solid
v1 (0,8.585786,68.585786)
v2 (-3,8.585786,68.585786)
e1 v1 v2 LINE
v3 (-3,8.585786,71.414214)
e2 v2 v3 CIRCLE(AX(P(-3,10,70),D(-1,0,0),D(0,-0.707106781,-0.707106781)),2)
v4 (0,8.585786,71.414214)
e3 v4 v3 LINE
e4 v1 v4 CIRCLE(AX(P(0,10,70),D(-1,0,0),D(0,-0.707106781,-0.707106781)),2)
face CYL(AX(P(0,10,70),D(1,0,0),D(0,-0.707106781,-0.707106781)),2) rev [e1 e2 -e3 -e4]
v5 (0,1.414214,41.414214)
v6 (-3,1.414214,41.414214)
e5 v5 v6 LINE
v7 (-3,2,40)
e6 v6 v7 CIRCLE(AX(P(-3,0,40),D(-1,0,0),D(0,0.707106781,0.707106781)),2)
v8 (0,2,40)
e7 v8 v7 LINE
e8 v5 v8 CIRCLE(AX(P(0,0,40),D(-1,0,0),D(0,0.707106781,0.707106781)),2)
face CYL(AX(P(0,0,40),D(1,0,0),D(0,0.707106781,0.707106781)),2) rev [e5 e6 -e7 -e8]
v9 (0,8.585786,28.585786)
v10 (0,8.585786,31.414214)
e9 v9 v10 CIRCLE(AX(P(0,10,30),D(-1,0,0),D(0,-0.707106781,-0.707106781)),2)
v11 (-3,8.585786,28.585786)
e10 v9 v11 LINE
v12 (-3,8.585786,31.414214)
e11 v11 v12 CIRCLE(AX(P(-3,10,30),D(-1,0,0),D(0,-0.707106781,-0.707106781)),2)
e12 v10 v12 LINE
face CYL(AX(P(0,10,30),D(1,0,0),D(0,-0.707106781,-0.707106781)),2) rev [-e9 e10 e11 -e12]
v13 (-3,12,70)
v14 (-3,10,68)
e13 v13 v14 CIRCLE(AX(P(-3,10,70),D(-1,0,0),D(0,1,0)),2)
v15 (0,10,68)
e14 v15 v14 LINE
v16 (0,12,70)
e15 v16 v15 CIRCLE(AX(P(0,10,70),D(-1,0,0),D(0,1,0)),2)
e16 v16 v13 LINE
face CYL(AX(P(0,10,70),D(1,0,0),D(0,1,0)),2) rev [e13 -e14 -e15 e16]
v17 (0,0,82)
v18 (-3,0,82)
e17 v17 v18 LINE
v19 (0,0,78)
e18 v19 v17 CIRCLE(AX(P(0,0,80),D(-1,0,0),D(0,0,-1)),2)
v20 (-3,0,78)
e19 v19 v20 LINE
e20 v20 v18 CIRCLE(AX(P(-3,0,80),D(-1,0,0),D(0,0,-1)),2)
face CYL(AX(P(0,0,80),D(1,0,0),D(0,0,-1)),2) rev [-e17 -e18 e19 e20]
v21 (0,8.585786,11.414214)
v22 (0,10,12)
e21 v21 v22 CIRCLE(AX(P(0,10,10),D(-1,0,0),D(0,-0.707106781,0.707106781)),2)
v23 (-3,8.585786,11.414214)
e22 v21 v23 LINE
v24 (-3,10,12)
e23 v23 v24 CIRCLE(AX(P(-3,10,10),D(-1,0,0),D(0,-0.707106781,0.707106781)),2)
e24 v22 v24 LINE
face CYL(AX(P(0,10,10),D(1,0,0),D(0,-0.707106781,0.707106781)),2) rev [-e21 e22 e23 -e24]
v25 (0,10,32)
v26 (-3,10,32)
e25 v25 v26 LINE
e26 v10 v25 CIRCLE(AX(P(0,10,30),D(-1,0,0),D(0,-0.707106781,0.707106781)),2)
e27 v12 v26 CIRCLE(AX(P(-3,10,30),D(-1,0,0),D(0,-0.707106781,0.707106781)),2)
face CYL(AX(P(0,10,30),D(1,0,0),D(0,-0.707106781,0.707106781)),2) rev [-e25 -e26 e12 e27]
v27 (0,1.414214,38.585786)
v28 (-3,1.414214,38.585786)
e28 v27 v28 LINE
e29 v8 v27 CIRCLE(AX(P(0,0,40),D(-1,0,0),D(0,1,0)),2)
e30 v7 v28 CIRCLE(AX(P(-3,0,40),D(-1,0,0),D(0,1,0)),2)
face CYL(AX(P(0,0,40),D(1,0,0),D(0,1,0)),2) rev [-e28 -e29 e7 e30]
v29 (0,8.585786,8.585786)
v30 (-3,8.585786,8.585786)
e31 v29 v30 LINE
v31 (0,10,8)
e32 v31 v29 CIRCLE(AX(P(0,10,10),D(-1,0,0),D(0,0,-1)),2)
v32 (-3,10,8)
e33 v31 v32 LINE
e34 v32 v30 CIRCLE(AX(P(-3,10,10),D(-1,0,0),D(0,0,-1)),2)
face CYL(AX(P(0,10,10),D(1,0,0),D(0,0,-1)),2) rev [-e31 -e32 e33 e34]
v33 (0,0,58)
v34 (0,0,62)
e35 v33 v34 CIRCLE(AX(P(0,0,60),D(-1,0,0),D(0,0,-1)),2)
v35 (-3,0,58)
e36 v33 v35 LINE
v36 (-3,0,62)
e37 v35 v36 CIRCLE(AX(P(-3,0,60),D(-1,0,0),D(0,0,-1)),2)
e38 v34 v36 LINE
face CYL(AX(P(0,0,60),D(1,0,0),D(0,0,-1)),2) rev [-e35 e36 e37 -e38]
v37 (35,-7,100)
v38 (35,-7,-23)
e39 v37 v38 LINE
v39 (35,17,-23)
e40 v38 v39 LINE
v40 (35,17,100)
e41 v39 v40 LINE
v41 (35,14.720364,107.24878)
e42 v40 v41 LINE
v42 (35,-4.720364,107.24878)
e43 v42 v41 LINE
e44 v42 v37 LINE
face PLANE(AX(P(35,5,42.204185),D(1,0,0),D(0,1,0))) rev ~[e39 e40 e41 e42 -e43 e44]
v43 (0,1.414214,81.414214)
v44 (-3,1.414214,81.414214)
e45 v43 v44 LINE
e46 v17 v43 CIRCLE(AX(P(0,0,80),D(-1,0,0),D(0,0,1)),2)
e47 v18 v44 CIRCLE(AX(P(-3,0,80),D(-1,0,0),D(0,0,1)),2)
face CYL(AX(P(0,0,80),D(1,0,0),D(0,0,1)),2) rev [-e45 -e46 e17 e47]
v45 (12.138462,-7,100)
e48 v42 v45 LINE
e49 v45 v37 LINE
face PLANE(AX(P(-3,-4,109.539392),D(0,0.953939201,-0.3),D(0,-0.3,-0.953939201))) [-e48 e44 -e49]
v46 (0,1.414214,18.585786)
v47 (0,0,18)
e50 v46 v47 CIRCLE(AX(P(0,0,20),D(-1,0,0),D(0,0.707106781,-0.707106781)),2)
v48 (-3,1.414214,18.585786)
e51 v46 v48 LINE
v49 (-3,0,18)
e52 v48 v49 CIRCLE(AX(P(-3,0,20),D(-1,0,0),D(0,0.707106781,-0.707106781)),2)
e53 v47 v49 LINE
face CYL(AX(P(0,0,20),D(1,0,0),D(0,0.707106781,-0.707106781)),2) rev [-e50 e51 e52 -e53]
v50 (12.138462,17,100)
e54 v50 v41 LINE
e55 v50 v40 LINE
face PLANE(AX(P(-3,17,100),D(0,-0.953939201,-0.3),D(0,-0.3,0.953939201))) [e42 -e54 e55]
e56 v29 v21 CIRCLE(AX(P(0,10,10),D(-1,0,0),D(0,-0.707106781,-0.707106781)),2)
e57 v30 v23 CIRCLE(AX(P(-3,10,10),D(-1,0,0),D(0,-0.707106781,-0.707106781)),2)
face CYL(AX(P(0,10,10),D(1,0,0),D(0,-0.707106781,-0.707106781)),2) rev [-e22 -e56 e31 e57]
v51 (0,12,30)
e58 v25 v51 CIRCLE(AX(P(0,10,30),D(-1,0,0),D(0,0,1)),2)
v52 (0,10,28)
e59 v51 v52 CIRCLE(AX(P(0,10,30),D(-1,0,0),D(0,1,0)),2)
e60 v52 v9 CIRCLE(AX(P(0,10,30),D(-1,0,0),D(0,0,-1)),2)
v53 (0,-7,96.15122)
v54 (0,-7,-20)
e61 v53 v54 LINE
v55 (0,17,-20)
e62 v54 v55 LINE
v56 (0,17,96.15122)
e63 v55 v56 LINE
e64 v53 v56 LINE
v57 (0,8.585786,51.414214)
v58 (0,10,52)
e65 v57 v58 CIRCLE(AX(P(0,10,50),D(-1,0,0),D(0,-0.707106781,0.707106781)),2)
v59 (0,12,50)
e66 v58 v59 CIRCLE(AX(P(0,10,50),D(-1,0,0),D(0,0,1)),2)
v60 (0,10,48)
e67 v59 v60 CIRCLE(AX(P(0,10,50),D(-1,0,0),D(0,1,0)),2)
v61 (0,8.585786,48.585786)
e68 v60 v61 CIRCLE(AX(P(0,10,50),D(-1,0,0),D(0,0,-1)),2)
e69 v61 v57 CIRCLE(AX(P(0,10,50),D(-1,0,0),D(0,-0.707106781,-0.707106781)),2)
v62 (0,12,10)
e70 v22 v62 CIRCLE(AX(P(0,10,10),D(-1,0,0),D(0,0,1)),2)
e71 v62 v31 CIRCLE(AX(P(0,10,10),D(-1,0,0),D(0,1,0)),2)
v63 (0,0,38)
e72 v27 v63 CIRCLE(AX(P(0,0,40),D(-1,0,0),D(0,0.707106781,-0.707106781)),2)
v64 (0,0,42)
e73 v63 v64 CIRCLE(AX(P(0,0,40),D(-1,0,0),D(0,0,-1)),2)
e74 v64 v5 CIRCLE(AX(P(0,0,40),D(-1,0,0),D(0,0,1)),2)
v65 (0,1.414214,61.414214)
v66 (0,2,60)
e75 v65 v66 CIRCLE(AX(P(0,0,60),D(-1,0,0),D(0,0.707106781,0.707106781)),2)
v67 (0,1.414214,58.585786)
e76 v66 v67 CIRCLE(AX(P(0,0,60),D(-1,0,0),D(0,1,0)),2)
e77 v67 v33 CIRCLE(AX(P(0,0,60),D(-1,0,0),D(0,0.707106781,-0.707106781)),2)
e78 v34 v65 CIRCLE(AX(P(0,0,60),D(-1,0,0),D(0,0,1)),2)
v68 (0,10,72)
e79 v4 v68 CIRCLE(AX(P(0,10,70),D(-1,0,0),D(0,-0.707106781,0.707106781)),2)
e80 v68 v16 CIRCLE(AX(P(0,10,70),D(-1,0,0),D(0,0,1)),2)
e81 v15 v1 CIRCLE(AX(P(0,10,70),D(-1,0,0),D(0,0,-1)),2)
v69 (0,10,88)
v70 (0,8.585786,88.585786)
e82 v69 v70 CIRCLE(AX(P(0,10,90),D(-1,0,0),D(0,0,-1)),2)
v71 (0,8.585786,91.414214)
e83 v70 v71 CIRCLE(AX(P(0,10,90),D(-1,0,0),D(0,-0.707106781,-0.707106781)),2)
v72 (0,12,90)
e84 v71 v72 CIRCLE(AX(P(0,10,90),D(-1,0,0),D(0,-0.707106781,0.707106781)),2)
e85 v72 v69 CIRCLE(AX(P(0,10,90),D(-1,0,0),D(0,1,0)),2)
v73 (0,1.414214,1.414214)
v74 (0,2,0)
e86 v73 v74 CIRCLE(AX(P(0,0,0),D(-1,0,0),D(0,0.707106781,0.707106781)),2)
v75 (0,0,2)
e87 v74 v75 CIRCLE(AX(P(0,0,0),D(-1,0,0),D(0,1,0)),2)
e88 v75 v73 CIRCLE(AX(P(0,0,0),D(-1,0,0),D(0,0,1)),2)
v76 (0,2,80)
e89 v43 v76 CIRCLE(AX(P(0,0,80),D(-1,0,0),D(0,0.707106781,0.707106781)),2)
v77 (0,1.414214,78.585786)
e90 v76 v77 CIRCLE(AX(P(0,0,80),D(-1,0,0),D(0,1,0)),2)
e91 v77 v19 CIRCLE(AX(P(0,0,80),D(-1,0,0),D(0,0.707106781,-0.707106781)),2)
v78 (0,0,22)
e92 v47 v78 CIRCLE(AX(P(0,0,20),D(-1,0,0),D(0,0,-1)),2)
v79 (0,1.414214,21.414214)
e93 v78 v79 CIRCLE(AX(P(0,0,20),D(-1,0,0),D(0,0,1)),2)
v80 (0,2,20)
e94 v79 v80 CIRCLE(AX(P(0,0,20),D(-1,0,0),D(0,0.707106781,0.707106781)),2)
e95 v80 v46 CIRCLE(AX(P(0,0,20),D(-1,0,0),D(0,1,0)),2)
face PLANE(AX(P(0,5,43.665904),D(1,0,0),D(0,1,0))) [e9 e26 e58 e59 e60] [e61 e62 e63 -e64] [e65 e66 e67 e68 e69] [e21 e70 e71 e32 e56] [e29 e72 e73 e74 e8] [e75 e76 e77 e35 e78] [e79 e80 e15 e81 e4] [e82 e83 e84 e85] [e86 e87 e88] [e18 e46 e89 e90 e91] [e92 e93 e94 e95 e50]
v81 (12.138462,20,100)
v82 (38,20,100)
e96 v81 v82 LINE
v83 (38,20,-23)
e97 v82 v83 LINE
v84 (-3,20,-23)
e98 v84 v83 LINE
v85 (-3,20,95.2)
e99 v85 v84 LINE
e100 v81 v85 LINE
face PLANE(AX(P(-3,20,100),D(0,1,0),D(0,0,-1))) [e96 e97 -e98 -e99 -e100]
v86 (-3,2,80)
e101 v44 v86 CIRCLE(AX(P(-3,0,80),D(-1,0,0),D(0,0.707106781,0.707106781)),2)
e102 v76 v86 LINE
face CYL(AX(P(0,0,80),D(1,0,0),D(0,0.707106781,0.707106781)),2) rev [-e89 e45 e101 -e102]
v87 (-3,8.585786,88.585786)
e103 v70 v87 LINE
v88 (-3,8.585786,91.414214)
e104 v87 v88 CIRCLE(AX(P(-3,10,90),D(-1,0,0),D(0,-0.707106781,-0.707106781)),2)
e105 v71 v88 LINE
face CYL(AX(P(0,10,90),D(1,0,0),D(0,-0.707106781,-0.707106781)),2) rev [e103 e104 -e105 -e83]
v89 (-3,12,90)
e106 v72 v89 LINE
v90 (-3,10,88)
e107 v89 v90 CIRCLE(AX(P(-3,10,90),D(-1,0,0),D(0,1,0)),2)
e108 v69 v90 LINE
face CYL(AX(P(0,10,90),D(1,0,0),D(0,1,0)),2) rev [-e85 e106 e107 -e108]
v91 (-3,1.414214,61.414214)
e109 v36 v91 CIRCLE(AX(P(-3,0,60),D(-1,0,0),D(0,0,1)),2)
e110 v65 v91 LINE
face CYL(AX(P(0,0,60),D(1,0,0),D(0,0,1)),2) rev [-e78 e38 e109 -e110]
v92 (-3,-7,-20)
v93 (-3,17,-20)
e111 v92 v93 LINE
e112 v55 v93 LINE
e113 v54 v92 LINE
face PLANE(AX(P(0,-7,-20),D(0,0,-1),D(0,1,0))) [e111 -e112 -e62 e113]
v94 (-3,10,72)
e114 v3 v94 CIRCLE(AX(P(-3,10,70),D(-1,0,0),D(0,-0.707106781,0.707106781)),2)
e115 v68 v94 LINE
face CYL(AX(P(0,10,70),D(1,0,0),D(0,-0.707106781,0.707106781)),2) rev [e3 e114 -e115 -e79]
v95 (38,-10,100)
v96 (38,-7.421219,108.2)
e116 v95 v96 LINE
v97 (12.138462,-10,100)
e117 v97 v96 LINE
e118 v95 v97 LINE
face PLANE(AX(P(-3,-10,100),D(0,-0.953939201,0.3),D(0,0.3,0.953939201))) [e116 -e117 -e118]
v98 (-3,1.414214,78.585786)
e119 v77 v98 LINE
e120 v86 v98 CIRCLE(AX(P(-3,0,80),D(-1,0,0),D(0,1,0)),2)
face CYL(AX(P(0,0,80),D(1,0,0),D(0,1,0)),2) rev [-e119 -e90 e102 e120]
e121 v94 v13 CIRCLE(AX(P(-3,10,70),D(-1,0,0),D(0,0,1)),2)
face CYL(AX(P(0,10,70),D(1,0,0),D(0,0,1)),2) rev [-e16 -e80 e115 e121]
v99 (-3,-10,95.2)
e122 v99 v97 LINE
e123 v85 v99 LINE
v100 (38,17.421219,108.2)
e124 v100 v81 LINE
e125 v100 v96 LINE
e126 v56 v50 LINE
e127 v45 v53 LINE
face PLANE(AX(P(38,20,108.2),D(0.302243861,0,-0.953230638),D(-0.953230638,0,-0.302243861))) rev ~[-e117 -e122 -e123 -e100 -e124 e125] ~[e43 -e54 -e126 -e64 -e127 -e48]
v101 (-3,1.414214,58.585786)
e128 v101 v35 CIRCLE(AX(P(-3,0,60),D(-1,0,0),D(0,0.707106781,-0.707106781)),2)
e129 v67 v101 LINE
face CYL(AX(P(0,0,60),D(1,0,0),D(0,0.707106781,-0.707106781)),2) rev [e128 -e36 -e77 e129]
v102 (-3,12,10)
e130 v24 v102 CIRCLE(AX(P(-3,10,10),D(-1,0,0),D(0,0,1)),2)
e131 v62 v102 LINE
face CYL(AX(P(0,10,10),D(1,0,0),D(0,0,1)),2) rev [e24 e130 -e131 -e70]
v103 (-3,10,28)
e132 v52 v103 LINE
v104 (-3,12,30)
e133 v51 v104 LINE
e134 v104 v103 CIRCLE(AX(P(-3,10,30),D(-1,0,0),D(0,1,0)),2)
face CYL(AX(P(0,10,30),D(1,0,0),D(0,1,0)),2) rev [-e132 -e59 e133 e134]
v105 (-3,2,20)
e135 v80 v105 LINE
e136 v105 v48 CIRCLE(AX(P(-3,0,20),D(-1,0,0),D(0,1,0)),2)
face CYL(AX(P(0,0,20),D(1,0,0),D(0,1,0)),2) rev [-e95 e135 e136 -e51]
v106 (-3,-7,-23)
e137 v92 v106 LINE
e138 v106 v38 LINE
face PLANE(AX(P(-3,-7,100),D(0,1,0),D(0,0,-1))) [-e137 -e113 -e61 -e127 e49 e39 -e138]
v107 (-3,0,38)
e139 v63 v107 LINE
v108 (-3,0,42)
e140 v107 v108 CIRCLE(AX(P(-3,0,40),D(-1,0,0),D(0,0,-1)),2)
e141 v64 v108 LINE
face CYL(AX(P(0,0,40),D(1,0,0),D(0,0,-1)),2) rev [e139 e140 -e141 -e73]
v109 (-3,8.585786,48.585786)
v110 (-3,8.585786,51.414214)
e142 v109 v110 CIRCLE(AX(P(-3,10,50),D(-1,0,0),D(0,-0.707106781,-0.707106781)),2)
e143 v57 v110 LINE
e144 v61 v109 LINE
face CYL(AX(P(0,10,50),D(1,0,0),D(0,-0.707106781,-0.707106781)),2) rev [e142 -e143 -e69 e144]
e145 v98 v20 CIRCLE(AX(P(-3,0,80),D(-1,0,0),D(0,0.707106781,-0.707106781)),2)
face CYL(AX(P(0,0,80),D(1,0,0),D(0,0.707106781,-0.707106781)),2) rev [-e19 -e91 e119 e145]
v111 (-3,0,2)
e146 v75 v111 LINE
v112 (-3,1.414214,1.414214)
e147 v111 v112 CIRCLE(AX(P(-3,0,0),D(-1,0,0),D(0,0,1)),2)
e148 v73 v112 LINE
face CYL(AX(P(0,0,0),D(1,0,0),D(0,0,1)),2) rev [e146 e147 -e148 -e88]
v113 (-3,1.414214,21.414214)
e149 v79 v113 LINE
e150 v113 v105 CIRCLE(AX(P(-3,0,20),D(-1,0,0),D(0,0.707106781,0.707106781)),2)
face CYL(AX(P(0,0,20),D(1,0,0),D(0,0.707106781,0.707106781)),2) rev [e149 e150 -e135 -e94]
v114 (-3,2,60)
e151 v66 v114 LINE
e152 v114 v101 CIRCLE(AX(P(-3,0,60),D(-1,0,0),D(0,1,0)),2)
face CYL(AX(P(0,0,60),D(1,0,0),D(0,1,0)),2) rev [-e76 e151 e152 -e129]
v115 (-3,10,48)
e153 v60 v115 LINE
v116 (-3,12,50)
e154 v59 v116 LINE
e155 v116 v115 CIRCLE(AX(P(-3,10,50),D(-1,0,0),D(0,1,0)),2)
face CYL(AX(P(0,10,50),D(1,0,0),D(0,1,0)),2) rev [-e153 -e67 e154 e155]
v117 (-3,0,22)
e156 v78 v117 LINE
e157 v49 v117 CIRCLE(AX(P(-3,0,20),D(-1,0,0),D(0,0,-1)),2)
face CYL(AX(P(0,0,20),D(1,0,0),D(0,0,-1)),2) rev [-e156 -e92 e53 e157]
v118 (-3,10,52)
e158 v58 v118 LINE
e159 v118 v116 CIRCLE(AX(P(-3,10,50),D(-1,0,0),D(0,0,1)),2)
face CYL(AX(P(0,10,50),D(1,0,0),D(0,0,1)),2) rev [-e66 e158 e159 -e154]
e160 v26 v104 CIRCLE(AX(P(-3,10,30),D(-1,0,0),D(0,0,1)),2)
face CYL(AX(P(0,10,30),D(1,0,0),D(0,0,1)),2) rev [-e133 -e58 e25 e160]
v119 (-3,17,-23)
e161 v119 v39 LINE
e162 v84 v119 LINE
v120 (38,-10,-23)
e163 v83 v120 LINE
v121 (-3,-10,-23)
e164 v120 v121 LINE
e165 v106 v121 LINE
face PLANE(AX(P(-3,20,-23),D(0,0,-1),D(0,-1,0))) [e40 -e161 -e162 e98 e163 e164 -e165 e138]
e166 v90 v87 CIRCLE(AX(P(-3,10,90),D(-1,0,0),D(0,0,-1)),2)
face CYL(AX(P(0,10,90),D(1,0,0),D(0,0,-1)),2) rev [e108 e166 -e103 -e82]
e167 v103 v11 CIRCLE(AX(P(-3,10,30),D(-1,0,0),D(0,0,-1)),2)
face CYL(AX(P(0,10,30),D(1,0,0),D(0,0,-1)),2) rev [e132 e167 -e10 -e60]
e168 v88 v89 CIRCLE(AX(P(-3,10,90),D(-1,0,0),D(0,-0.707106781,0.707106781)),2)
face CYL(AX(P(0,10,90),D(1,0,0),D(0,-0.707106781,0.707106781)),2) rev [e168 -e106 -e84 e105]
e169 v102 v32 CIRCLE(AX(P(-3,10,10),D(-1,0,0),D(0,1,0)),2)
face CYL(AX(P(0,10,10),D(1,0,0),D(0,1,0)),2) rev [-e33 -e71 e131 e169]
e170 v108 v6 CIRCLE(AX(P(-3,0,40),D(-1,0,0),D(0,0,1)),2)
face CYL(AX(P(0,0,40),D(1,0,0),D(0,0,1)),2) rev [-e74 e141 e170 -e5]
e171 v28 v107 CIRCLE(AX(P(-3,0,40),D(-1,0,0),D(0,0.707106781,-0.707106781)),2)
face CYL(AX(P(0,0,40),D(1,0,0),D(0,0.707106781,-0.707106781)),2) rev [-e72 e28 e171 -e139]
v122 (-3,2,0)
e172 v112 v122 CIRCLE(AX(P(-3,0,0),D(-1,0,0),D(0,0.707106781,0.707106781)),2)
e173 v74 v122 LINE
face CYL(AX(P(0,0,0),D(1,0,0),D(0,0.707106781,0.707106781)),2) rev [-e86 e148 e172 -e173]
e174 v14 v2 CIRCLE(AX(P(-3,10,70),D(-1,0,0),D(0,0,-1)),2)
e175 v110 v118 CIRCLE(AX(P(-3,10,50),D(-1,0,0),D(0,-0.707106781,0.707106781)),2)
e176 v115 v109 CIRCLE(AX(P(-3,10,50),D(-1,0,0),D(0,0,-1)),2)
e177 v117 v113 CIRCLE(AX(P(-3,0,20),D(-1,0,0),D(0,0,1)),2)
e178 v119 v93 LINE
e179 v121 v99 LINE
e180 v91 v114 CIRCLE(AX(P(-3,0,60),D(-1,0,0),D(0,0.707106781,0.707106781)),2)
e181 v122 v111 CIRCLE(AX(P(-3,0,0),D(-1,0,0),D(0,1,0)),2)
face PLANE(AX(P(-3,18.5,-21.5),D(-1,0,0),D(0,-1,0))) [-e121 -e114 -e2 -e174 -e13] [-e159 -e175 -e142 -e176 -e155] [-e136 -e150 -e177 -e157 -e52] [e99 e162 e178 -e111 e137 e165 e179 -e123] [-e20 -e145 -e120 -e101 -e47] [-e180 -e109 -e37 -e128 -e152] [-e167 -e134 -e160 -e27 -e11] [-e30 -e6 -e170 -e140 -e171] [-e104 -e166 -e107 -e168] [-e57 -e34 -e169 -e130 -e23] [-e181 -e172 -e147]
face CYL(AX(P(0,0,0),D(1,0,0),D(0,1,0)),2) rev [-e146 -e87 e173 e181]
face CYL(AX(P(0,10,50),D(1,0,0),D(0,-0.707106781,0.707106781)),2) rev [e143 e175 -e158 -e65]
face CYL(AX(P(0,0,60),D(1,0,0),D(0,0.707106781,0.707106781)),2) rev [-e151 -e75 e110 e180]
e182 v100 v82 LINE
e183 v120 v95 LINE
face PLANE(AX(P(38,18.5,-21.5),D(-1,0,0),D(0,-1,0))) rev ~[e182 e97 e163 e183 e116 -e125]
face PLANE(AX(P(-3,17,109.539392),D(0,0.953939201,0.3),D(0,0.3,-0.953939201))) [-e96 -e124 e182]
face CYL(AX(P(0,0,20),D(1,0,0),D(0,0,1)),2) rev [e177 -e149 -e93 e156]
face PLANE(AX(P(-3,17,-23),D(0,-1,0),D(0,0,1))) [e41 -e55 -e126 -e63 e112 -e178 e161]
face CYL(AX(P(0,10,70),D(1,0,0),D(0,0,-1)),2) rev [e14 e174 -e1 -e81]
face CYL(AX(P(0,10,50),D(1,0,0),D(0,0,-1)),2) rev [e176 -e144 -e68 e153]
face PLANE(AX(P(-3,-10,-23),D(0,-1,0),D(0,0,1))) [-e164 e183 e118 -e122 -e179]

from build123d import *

# Parameters (mm, degrees)
F1_DEPTH = 3
F2_W     = 3
F2_H     = 3
F2_H_2   = 120
F3_DEPTH = 41
F5_DEPTH = 3
F7_DEPTH = 39.6


with BuildPart() as f1:
    # F0 (on Right) → F1 (new body)
    with BuildSketch(Plane.YZ):
        Polygon((-7, -20), (5, -20), (17, -20), (17, 100), (14, 109.5393920142), (-4, 109.5393920142), (-7, 100), align=None)
        with BuildLine():
            Line((10, 28), (10, 12))
            ThreePointArc((10, 12), (11.4142135624, 11.4142135624), (12, 10))
            ThreePointArc((12, 10), (11.4142135624, 8.5857864376), (10, 8))
            Line((10, 8), (10, 0))
            Line((10, 0), (5, 0))
            Line((5, 0), (2, 0))
            ThreePointArc((2, 0), (-1.4142135624, -1.4142135624), (0, 2))
            Line((0, 2), (0, 18))
            ThreePointArc((0, 18), (-2, 20), (0, 22))
            Line((0, 22), (0, 38))
            ThreePointArc((0, 38), (-2, 40), (0, 42))
            Line((0, 42), (0, 58))
            ThreePointArc((0, 58), (-2, 60), (0, 62))
            Line((0, 62), (0, 78))
            ThreePointArc((0, 78), (-2, 80), (0, 82))
            Line((0, 82), (0, 98))
            ThreePointArc((0, 98), (-1.4142135624, 101.4142135624), (2, 100))
            ThreePointArc((2, 100), (1.847759065, 99.2346331353), (1.4142135624, 98.5857864376))
            Line((1.4142135624, 98.5857864376), (8.5857864376, 91.4142135624))
            ThreePointArc((8.5857864376, 91.4142135624), (10.7653668647, 91.847759065), (12, 90))
            ThreePointArc((12, 90), (11.4142135624, 88.5857864376), (10, 88))
            Line((10, 88), (10, 72))
            ThreePointArc((10, 72), (11.4142135624, 71.4142135624), (12, 70))
            ThreePointArc((12, 70), (11.4142135624, 68.5857864376), (10, 68))
            Line((10, 68), (10, 52))
            ThreePointArc((10, 52), (11.4142135624, 51.4142135624), (12, 50))
            ThreePointArc((12, 50), (11.4142135624, 48.5857864376), (10, 48))
            Line((10, 48), (10, 32))
            ThreePointArc((10, 32), (11.4142135624, 31.4142135624), (12, 30))
            ThreePointArc((12, 30), (11.4142135624, 28.5857864376), (10, 28))
        make_face(mode=Mode.SUBTRACT)
        with BuildLine():
            ThreePointArc((8.5857864376, 8.5857864376), (8, 10), (8.5857864376, 11.4142135624))
            Line((8.5857864376, 11.4142135624), (1.4142135624, 18.5857864376))
            ThreePointArc((1.4142135624, 18.5857864376), (0.7653668647, 18.152240935), (0, 18))
            Line((0, 18), (0, 2))
            ThreePointArc((0, 2), (0.7653668647, 1.847759065), (1.4142135624, 1.4142135624))
            Line((1.4142135624, 1.4142135624), (8.5857864376, 8.5857864376))
        make_face()
        with BuildLine():
            ThreePointArc((10, 8), (9.2346331353, 8.152240935), (8.5857864376, 8.5857864376))
            Line((8.5857864376, 8.5857864376), (1.4142135624, 1.4142135624))
            ThreePointArc((1.4142135624, 1.4142135624), (1.847759065, 0.7653668647), (2, 0))
            Line((2, 0), (5, 0))
            Line((5, 0), (10, 0))
            Line((10, 0), (10, 8))
        make_face()
        with BuildLine():
            Line((1.4142135624, 18.5857864376), (8.5857864376, 11.4142135624))
            ThreePointArc((8.5857864376, 11.4142135624), (9.2346331353, 11.847759065), (10, 12))
            Line((10, 12), (10, 28))
            ThreePointArc((10, 28), (9.2346331353, 28.152240935), (8.5857864376, 28.5857864376))
            Line((8.5857864376, 28.5857864376), (1.4142135624, 21.4142135624))
            ThreePointArc((1.4142135624, 21.4142135624), (1.847759065, 20.7653668647), (2, 20))
            ThreePointArc((2, 20), (1.847759065, 19.2346331353), (1.4142135624, 18.5857864376))
        make_face()
        with BuildLine():
            Line((1.4142135624, 21.4142135624), (8.5857864376, 28.5857864376))
            ThreePointArc((8.5857864376, 28.5857864376), (8, 30), (8.5857864376, 31.4142135624))
            Line((8.5857864376, 31.4142135624), (1.4142135624, 38.5857864376))
            ThreePointArc((1.4142135624, 38.5857864376), (0.7653668647, 38.152240935), (0, 38))
            Line((0, 38), (0, 22))
            ThreePointArc((0, 22), (0.7653668647, 21.847759065), (1.4142135624, 21.4142135624))
        make_face()
        with BuildLine():
            Line((1.4142135624, 38.5857864376), (8.5857864376, 31.4142135624))
            ThreePointArc((8.5857864376, 31.4142135624), (9.2346331353, 31.847759065), (10, 32))
            Line((10, 32), (10, 48))
            ThreePointArc((10, 48), (9.2346331353, 48.152240935), (8.5857864376, 48.5857864376))
            Line((8.5857864376, 48.5857864376), (1.4142135624, 41.4142135624))
            ThreePointArc((1.4142135624, 41.4142135624), (1.847759065, 40.7653668647), (2, 40))
            ThreePointArc((2, 40), (1.847759065, 39.2346331353), (1.4142135624, 38.5857864376))
        make_face()
        with BuildLine():
            Line((0, 58), (0, 42))
            ThreePointArc((0, 42), (0.7653668647, 41.847759065), (1.4142135624, 41.4142135624))
            Line((1.4142135624, 41.4142135624), (8.5857864376, 48.5857864376))
            ThreePointArc((8.5857864376, 48.5857864376), (8, 50), (8.5857864376, 51.4142135624))
            Line((8.5857864376, 51.4142135624), (1.4142135624, 58.5857864376))
            ThreePointArc((1.4142135624, 58.5857864376), (0.7653668647, 58.152240935), (0, 58))
        make_face()
        with BuildLine():
            Line((1.4142135624, 58.5857864376), (8.5857864376, 51.4142135624))
            ThreePointArc((8.5857864376, 51.4142135624), (9.2346331353, 51.847759065), (10, 52))
            Line((10, 52), (10, 68))
            ThreePointArc((10, 68), (9.2346331353, 68.152240935), (8.5857864376, 68.5857864376))
            Line((8.5857864376, 68.5857864376), (1.4142135624, 61.4142135624))
            ThreePointArc((1.4142135624, 61.4142135624), (1.847759065, 60.7653668647), (2, 60))
            ThreePointArc((2, 60), (1.847759065, 59.2346331353), (1.4142135624, 58.5857864376))
        make_face()
        with BuildLine():
            Line((0, 78), (0, 62))
            ThreePointArc((0, 62), (0.7653668647, 61.847759065), (1.4142135624, 61.4142135624))
            Line((1.4142135624, 61.4142135624), (8.5857864376, 68.5857864376))
            ThreePointArc((8.5857864376, 68.5857864376), (8, 70), (8.5857864376, 71.4142135624))
            Line((8.5857864376, 71.4142135624), (1.4142135624, 78.5857864376))
            ThreePointArc((1.4142135624, 78.5857864376), (0.7653668647, 78.152240935), (0, 78))
        make_face()
        with BuildLine():
            ThreePointArc((2, 80), (1.847759065, 79.2346331353), (1.4142135624, 78.5857864376))
            Line((1.4142135624, 78.5857864376), (8.5857864376, 71.4142135624))
            ThreePointArc((8.5857864376, 71.4142135624), (9.2346331353, 71.847759065), (10, 72))
            Line((10, 72), (10, 88))
            ThreePointArc((10, 88), (9.2346331353, 88.152240935), (8.5857864376, 88.5857864376))
            Line((8.5857864376, 88.5857864376), (1.4142135624, 81.4142135624))
            ThreePointArc((1.4142135624, 81.4142135624), (1.847759065, 80.7653668647), (2, 80))
        make_face()
        with BuildLine():
            Line((0, 98), (0, 82))
            ThreePointArc((0, 82), (0.7653668647, 81.847759065), (1.4142135624, 81.4142135624))
            Line((1.4142135624, 81.4142135624), (8.5857864376, 88.5857864376))
            ThreePointArc((8.5857864376, 88.5857864376), (8, 90), (8.5857864376, 91.4142135624))
            Line((8.5857864376, 91.4142135624), (1.4142135624, 98.5857864376))
            ThreePointArc((1.4142135624, 98.5857864376), (0.7653668647, 98.152240935), (0, 98))
        make_face()
    extrude(amount=-F1_DEPTH)

    # F2 (on face) → F3 (join)
    with BuildSketch(Plane(origin=(-3, 0, 0), x_dir=(0, -1, 0), z_dir=(-1, 0, 0))):
        with Locations((-18.5, -21.5)):
            Rectangle(F2_W, F2_H)
        with Locations((-18.5, 40)):
            Rectangle(F2_W, F2_H_2)
        Polygon((7, 109.5393920142), (4, 109.5393920142), (7, 100), (7, -20), (7, -23), (10, -23), (10, 100), align=None)
        Polygon((-17, 100), (-14, 109.5393920142), (-17, 109.5393920142), (-20, 100), align=None)
    extrude(amount=-F3_DEPTH)

    # F4 (on face) → F5 (join)
    with BuildSketch(Plane.YZ.offset(38)):
        Polygon((17, 109.5393920142), (-7, 109.5393920142), (-10, 100), (-10, -23), (20, -23), (20, 100), align=None)
    extrude(amount=-F5_DEPTH)

    # F6 (on face) → F7 (cut)
    with BuildSketch(Plane(origin=(0, 20, 0), x_dir=(-1, 0, 0), z_dir=(0, 1, 0))):
        Polygon((3, 95.2), (3, 100), (3, 110), (-38, 110), (-38, 108.2), align=None)
    extrude(amount=-F7_DEPTH, mode=Mode.SUBTRACT)


solid = f1.part
